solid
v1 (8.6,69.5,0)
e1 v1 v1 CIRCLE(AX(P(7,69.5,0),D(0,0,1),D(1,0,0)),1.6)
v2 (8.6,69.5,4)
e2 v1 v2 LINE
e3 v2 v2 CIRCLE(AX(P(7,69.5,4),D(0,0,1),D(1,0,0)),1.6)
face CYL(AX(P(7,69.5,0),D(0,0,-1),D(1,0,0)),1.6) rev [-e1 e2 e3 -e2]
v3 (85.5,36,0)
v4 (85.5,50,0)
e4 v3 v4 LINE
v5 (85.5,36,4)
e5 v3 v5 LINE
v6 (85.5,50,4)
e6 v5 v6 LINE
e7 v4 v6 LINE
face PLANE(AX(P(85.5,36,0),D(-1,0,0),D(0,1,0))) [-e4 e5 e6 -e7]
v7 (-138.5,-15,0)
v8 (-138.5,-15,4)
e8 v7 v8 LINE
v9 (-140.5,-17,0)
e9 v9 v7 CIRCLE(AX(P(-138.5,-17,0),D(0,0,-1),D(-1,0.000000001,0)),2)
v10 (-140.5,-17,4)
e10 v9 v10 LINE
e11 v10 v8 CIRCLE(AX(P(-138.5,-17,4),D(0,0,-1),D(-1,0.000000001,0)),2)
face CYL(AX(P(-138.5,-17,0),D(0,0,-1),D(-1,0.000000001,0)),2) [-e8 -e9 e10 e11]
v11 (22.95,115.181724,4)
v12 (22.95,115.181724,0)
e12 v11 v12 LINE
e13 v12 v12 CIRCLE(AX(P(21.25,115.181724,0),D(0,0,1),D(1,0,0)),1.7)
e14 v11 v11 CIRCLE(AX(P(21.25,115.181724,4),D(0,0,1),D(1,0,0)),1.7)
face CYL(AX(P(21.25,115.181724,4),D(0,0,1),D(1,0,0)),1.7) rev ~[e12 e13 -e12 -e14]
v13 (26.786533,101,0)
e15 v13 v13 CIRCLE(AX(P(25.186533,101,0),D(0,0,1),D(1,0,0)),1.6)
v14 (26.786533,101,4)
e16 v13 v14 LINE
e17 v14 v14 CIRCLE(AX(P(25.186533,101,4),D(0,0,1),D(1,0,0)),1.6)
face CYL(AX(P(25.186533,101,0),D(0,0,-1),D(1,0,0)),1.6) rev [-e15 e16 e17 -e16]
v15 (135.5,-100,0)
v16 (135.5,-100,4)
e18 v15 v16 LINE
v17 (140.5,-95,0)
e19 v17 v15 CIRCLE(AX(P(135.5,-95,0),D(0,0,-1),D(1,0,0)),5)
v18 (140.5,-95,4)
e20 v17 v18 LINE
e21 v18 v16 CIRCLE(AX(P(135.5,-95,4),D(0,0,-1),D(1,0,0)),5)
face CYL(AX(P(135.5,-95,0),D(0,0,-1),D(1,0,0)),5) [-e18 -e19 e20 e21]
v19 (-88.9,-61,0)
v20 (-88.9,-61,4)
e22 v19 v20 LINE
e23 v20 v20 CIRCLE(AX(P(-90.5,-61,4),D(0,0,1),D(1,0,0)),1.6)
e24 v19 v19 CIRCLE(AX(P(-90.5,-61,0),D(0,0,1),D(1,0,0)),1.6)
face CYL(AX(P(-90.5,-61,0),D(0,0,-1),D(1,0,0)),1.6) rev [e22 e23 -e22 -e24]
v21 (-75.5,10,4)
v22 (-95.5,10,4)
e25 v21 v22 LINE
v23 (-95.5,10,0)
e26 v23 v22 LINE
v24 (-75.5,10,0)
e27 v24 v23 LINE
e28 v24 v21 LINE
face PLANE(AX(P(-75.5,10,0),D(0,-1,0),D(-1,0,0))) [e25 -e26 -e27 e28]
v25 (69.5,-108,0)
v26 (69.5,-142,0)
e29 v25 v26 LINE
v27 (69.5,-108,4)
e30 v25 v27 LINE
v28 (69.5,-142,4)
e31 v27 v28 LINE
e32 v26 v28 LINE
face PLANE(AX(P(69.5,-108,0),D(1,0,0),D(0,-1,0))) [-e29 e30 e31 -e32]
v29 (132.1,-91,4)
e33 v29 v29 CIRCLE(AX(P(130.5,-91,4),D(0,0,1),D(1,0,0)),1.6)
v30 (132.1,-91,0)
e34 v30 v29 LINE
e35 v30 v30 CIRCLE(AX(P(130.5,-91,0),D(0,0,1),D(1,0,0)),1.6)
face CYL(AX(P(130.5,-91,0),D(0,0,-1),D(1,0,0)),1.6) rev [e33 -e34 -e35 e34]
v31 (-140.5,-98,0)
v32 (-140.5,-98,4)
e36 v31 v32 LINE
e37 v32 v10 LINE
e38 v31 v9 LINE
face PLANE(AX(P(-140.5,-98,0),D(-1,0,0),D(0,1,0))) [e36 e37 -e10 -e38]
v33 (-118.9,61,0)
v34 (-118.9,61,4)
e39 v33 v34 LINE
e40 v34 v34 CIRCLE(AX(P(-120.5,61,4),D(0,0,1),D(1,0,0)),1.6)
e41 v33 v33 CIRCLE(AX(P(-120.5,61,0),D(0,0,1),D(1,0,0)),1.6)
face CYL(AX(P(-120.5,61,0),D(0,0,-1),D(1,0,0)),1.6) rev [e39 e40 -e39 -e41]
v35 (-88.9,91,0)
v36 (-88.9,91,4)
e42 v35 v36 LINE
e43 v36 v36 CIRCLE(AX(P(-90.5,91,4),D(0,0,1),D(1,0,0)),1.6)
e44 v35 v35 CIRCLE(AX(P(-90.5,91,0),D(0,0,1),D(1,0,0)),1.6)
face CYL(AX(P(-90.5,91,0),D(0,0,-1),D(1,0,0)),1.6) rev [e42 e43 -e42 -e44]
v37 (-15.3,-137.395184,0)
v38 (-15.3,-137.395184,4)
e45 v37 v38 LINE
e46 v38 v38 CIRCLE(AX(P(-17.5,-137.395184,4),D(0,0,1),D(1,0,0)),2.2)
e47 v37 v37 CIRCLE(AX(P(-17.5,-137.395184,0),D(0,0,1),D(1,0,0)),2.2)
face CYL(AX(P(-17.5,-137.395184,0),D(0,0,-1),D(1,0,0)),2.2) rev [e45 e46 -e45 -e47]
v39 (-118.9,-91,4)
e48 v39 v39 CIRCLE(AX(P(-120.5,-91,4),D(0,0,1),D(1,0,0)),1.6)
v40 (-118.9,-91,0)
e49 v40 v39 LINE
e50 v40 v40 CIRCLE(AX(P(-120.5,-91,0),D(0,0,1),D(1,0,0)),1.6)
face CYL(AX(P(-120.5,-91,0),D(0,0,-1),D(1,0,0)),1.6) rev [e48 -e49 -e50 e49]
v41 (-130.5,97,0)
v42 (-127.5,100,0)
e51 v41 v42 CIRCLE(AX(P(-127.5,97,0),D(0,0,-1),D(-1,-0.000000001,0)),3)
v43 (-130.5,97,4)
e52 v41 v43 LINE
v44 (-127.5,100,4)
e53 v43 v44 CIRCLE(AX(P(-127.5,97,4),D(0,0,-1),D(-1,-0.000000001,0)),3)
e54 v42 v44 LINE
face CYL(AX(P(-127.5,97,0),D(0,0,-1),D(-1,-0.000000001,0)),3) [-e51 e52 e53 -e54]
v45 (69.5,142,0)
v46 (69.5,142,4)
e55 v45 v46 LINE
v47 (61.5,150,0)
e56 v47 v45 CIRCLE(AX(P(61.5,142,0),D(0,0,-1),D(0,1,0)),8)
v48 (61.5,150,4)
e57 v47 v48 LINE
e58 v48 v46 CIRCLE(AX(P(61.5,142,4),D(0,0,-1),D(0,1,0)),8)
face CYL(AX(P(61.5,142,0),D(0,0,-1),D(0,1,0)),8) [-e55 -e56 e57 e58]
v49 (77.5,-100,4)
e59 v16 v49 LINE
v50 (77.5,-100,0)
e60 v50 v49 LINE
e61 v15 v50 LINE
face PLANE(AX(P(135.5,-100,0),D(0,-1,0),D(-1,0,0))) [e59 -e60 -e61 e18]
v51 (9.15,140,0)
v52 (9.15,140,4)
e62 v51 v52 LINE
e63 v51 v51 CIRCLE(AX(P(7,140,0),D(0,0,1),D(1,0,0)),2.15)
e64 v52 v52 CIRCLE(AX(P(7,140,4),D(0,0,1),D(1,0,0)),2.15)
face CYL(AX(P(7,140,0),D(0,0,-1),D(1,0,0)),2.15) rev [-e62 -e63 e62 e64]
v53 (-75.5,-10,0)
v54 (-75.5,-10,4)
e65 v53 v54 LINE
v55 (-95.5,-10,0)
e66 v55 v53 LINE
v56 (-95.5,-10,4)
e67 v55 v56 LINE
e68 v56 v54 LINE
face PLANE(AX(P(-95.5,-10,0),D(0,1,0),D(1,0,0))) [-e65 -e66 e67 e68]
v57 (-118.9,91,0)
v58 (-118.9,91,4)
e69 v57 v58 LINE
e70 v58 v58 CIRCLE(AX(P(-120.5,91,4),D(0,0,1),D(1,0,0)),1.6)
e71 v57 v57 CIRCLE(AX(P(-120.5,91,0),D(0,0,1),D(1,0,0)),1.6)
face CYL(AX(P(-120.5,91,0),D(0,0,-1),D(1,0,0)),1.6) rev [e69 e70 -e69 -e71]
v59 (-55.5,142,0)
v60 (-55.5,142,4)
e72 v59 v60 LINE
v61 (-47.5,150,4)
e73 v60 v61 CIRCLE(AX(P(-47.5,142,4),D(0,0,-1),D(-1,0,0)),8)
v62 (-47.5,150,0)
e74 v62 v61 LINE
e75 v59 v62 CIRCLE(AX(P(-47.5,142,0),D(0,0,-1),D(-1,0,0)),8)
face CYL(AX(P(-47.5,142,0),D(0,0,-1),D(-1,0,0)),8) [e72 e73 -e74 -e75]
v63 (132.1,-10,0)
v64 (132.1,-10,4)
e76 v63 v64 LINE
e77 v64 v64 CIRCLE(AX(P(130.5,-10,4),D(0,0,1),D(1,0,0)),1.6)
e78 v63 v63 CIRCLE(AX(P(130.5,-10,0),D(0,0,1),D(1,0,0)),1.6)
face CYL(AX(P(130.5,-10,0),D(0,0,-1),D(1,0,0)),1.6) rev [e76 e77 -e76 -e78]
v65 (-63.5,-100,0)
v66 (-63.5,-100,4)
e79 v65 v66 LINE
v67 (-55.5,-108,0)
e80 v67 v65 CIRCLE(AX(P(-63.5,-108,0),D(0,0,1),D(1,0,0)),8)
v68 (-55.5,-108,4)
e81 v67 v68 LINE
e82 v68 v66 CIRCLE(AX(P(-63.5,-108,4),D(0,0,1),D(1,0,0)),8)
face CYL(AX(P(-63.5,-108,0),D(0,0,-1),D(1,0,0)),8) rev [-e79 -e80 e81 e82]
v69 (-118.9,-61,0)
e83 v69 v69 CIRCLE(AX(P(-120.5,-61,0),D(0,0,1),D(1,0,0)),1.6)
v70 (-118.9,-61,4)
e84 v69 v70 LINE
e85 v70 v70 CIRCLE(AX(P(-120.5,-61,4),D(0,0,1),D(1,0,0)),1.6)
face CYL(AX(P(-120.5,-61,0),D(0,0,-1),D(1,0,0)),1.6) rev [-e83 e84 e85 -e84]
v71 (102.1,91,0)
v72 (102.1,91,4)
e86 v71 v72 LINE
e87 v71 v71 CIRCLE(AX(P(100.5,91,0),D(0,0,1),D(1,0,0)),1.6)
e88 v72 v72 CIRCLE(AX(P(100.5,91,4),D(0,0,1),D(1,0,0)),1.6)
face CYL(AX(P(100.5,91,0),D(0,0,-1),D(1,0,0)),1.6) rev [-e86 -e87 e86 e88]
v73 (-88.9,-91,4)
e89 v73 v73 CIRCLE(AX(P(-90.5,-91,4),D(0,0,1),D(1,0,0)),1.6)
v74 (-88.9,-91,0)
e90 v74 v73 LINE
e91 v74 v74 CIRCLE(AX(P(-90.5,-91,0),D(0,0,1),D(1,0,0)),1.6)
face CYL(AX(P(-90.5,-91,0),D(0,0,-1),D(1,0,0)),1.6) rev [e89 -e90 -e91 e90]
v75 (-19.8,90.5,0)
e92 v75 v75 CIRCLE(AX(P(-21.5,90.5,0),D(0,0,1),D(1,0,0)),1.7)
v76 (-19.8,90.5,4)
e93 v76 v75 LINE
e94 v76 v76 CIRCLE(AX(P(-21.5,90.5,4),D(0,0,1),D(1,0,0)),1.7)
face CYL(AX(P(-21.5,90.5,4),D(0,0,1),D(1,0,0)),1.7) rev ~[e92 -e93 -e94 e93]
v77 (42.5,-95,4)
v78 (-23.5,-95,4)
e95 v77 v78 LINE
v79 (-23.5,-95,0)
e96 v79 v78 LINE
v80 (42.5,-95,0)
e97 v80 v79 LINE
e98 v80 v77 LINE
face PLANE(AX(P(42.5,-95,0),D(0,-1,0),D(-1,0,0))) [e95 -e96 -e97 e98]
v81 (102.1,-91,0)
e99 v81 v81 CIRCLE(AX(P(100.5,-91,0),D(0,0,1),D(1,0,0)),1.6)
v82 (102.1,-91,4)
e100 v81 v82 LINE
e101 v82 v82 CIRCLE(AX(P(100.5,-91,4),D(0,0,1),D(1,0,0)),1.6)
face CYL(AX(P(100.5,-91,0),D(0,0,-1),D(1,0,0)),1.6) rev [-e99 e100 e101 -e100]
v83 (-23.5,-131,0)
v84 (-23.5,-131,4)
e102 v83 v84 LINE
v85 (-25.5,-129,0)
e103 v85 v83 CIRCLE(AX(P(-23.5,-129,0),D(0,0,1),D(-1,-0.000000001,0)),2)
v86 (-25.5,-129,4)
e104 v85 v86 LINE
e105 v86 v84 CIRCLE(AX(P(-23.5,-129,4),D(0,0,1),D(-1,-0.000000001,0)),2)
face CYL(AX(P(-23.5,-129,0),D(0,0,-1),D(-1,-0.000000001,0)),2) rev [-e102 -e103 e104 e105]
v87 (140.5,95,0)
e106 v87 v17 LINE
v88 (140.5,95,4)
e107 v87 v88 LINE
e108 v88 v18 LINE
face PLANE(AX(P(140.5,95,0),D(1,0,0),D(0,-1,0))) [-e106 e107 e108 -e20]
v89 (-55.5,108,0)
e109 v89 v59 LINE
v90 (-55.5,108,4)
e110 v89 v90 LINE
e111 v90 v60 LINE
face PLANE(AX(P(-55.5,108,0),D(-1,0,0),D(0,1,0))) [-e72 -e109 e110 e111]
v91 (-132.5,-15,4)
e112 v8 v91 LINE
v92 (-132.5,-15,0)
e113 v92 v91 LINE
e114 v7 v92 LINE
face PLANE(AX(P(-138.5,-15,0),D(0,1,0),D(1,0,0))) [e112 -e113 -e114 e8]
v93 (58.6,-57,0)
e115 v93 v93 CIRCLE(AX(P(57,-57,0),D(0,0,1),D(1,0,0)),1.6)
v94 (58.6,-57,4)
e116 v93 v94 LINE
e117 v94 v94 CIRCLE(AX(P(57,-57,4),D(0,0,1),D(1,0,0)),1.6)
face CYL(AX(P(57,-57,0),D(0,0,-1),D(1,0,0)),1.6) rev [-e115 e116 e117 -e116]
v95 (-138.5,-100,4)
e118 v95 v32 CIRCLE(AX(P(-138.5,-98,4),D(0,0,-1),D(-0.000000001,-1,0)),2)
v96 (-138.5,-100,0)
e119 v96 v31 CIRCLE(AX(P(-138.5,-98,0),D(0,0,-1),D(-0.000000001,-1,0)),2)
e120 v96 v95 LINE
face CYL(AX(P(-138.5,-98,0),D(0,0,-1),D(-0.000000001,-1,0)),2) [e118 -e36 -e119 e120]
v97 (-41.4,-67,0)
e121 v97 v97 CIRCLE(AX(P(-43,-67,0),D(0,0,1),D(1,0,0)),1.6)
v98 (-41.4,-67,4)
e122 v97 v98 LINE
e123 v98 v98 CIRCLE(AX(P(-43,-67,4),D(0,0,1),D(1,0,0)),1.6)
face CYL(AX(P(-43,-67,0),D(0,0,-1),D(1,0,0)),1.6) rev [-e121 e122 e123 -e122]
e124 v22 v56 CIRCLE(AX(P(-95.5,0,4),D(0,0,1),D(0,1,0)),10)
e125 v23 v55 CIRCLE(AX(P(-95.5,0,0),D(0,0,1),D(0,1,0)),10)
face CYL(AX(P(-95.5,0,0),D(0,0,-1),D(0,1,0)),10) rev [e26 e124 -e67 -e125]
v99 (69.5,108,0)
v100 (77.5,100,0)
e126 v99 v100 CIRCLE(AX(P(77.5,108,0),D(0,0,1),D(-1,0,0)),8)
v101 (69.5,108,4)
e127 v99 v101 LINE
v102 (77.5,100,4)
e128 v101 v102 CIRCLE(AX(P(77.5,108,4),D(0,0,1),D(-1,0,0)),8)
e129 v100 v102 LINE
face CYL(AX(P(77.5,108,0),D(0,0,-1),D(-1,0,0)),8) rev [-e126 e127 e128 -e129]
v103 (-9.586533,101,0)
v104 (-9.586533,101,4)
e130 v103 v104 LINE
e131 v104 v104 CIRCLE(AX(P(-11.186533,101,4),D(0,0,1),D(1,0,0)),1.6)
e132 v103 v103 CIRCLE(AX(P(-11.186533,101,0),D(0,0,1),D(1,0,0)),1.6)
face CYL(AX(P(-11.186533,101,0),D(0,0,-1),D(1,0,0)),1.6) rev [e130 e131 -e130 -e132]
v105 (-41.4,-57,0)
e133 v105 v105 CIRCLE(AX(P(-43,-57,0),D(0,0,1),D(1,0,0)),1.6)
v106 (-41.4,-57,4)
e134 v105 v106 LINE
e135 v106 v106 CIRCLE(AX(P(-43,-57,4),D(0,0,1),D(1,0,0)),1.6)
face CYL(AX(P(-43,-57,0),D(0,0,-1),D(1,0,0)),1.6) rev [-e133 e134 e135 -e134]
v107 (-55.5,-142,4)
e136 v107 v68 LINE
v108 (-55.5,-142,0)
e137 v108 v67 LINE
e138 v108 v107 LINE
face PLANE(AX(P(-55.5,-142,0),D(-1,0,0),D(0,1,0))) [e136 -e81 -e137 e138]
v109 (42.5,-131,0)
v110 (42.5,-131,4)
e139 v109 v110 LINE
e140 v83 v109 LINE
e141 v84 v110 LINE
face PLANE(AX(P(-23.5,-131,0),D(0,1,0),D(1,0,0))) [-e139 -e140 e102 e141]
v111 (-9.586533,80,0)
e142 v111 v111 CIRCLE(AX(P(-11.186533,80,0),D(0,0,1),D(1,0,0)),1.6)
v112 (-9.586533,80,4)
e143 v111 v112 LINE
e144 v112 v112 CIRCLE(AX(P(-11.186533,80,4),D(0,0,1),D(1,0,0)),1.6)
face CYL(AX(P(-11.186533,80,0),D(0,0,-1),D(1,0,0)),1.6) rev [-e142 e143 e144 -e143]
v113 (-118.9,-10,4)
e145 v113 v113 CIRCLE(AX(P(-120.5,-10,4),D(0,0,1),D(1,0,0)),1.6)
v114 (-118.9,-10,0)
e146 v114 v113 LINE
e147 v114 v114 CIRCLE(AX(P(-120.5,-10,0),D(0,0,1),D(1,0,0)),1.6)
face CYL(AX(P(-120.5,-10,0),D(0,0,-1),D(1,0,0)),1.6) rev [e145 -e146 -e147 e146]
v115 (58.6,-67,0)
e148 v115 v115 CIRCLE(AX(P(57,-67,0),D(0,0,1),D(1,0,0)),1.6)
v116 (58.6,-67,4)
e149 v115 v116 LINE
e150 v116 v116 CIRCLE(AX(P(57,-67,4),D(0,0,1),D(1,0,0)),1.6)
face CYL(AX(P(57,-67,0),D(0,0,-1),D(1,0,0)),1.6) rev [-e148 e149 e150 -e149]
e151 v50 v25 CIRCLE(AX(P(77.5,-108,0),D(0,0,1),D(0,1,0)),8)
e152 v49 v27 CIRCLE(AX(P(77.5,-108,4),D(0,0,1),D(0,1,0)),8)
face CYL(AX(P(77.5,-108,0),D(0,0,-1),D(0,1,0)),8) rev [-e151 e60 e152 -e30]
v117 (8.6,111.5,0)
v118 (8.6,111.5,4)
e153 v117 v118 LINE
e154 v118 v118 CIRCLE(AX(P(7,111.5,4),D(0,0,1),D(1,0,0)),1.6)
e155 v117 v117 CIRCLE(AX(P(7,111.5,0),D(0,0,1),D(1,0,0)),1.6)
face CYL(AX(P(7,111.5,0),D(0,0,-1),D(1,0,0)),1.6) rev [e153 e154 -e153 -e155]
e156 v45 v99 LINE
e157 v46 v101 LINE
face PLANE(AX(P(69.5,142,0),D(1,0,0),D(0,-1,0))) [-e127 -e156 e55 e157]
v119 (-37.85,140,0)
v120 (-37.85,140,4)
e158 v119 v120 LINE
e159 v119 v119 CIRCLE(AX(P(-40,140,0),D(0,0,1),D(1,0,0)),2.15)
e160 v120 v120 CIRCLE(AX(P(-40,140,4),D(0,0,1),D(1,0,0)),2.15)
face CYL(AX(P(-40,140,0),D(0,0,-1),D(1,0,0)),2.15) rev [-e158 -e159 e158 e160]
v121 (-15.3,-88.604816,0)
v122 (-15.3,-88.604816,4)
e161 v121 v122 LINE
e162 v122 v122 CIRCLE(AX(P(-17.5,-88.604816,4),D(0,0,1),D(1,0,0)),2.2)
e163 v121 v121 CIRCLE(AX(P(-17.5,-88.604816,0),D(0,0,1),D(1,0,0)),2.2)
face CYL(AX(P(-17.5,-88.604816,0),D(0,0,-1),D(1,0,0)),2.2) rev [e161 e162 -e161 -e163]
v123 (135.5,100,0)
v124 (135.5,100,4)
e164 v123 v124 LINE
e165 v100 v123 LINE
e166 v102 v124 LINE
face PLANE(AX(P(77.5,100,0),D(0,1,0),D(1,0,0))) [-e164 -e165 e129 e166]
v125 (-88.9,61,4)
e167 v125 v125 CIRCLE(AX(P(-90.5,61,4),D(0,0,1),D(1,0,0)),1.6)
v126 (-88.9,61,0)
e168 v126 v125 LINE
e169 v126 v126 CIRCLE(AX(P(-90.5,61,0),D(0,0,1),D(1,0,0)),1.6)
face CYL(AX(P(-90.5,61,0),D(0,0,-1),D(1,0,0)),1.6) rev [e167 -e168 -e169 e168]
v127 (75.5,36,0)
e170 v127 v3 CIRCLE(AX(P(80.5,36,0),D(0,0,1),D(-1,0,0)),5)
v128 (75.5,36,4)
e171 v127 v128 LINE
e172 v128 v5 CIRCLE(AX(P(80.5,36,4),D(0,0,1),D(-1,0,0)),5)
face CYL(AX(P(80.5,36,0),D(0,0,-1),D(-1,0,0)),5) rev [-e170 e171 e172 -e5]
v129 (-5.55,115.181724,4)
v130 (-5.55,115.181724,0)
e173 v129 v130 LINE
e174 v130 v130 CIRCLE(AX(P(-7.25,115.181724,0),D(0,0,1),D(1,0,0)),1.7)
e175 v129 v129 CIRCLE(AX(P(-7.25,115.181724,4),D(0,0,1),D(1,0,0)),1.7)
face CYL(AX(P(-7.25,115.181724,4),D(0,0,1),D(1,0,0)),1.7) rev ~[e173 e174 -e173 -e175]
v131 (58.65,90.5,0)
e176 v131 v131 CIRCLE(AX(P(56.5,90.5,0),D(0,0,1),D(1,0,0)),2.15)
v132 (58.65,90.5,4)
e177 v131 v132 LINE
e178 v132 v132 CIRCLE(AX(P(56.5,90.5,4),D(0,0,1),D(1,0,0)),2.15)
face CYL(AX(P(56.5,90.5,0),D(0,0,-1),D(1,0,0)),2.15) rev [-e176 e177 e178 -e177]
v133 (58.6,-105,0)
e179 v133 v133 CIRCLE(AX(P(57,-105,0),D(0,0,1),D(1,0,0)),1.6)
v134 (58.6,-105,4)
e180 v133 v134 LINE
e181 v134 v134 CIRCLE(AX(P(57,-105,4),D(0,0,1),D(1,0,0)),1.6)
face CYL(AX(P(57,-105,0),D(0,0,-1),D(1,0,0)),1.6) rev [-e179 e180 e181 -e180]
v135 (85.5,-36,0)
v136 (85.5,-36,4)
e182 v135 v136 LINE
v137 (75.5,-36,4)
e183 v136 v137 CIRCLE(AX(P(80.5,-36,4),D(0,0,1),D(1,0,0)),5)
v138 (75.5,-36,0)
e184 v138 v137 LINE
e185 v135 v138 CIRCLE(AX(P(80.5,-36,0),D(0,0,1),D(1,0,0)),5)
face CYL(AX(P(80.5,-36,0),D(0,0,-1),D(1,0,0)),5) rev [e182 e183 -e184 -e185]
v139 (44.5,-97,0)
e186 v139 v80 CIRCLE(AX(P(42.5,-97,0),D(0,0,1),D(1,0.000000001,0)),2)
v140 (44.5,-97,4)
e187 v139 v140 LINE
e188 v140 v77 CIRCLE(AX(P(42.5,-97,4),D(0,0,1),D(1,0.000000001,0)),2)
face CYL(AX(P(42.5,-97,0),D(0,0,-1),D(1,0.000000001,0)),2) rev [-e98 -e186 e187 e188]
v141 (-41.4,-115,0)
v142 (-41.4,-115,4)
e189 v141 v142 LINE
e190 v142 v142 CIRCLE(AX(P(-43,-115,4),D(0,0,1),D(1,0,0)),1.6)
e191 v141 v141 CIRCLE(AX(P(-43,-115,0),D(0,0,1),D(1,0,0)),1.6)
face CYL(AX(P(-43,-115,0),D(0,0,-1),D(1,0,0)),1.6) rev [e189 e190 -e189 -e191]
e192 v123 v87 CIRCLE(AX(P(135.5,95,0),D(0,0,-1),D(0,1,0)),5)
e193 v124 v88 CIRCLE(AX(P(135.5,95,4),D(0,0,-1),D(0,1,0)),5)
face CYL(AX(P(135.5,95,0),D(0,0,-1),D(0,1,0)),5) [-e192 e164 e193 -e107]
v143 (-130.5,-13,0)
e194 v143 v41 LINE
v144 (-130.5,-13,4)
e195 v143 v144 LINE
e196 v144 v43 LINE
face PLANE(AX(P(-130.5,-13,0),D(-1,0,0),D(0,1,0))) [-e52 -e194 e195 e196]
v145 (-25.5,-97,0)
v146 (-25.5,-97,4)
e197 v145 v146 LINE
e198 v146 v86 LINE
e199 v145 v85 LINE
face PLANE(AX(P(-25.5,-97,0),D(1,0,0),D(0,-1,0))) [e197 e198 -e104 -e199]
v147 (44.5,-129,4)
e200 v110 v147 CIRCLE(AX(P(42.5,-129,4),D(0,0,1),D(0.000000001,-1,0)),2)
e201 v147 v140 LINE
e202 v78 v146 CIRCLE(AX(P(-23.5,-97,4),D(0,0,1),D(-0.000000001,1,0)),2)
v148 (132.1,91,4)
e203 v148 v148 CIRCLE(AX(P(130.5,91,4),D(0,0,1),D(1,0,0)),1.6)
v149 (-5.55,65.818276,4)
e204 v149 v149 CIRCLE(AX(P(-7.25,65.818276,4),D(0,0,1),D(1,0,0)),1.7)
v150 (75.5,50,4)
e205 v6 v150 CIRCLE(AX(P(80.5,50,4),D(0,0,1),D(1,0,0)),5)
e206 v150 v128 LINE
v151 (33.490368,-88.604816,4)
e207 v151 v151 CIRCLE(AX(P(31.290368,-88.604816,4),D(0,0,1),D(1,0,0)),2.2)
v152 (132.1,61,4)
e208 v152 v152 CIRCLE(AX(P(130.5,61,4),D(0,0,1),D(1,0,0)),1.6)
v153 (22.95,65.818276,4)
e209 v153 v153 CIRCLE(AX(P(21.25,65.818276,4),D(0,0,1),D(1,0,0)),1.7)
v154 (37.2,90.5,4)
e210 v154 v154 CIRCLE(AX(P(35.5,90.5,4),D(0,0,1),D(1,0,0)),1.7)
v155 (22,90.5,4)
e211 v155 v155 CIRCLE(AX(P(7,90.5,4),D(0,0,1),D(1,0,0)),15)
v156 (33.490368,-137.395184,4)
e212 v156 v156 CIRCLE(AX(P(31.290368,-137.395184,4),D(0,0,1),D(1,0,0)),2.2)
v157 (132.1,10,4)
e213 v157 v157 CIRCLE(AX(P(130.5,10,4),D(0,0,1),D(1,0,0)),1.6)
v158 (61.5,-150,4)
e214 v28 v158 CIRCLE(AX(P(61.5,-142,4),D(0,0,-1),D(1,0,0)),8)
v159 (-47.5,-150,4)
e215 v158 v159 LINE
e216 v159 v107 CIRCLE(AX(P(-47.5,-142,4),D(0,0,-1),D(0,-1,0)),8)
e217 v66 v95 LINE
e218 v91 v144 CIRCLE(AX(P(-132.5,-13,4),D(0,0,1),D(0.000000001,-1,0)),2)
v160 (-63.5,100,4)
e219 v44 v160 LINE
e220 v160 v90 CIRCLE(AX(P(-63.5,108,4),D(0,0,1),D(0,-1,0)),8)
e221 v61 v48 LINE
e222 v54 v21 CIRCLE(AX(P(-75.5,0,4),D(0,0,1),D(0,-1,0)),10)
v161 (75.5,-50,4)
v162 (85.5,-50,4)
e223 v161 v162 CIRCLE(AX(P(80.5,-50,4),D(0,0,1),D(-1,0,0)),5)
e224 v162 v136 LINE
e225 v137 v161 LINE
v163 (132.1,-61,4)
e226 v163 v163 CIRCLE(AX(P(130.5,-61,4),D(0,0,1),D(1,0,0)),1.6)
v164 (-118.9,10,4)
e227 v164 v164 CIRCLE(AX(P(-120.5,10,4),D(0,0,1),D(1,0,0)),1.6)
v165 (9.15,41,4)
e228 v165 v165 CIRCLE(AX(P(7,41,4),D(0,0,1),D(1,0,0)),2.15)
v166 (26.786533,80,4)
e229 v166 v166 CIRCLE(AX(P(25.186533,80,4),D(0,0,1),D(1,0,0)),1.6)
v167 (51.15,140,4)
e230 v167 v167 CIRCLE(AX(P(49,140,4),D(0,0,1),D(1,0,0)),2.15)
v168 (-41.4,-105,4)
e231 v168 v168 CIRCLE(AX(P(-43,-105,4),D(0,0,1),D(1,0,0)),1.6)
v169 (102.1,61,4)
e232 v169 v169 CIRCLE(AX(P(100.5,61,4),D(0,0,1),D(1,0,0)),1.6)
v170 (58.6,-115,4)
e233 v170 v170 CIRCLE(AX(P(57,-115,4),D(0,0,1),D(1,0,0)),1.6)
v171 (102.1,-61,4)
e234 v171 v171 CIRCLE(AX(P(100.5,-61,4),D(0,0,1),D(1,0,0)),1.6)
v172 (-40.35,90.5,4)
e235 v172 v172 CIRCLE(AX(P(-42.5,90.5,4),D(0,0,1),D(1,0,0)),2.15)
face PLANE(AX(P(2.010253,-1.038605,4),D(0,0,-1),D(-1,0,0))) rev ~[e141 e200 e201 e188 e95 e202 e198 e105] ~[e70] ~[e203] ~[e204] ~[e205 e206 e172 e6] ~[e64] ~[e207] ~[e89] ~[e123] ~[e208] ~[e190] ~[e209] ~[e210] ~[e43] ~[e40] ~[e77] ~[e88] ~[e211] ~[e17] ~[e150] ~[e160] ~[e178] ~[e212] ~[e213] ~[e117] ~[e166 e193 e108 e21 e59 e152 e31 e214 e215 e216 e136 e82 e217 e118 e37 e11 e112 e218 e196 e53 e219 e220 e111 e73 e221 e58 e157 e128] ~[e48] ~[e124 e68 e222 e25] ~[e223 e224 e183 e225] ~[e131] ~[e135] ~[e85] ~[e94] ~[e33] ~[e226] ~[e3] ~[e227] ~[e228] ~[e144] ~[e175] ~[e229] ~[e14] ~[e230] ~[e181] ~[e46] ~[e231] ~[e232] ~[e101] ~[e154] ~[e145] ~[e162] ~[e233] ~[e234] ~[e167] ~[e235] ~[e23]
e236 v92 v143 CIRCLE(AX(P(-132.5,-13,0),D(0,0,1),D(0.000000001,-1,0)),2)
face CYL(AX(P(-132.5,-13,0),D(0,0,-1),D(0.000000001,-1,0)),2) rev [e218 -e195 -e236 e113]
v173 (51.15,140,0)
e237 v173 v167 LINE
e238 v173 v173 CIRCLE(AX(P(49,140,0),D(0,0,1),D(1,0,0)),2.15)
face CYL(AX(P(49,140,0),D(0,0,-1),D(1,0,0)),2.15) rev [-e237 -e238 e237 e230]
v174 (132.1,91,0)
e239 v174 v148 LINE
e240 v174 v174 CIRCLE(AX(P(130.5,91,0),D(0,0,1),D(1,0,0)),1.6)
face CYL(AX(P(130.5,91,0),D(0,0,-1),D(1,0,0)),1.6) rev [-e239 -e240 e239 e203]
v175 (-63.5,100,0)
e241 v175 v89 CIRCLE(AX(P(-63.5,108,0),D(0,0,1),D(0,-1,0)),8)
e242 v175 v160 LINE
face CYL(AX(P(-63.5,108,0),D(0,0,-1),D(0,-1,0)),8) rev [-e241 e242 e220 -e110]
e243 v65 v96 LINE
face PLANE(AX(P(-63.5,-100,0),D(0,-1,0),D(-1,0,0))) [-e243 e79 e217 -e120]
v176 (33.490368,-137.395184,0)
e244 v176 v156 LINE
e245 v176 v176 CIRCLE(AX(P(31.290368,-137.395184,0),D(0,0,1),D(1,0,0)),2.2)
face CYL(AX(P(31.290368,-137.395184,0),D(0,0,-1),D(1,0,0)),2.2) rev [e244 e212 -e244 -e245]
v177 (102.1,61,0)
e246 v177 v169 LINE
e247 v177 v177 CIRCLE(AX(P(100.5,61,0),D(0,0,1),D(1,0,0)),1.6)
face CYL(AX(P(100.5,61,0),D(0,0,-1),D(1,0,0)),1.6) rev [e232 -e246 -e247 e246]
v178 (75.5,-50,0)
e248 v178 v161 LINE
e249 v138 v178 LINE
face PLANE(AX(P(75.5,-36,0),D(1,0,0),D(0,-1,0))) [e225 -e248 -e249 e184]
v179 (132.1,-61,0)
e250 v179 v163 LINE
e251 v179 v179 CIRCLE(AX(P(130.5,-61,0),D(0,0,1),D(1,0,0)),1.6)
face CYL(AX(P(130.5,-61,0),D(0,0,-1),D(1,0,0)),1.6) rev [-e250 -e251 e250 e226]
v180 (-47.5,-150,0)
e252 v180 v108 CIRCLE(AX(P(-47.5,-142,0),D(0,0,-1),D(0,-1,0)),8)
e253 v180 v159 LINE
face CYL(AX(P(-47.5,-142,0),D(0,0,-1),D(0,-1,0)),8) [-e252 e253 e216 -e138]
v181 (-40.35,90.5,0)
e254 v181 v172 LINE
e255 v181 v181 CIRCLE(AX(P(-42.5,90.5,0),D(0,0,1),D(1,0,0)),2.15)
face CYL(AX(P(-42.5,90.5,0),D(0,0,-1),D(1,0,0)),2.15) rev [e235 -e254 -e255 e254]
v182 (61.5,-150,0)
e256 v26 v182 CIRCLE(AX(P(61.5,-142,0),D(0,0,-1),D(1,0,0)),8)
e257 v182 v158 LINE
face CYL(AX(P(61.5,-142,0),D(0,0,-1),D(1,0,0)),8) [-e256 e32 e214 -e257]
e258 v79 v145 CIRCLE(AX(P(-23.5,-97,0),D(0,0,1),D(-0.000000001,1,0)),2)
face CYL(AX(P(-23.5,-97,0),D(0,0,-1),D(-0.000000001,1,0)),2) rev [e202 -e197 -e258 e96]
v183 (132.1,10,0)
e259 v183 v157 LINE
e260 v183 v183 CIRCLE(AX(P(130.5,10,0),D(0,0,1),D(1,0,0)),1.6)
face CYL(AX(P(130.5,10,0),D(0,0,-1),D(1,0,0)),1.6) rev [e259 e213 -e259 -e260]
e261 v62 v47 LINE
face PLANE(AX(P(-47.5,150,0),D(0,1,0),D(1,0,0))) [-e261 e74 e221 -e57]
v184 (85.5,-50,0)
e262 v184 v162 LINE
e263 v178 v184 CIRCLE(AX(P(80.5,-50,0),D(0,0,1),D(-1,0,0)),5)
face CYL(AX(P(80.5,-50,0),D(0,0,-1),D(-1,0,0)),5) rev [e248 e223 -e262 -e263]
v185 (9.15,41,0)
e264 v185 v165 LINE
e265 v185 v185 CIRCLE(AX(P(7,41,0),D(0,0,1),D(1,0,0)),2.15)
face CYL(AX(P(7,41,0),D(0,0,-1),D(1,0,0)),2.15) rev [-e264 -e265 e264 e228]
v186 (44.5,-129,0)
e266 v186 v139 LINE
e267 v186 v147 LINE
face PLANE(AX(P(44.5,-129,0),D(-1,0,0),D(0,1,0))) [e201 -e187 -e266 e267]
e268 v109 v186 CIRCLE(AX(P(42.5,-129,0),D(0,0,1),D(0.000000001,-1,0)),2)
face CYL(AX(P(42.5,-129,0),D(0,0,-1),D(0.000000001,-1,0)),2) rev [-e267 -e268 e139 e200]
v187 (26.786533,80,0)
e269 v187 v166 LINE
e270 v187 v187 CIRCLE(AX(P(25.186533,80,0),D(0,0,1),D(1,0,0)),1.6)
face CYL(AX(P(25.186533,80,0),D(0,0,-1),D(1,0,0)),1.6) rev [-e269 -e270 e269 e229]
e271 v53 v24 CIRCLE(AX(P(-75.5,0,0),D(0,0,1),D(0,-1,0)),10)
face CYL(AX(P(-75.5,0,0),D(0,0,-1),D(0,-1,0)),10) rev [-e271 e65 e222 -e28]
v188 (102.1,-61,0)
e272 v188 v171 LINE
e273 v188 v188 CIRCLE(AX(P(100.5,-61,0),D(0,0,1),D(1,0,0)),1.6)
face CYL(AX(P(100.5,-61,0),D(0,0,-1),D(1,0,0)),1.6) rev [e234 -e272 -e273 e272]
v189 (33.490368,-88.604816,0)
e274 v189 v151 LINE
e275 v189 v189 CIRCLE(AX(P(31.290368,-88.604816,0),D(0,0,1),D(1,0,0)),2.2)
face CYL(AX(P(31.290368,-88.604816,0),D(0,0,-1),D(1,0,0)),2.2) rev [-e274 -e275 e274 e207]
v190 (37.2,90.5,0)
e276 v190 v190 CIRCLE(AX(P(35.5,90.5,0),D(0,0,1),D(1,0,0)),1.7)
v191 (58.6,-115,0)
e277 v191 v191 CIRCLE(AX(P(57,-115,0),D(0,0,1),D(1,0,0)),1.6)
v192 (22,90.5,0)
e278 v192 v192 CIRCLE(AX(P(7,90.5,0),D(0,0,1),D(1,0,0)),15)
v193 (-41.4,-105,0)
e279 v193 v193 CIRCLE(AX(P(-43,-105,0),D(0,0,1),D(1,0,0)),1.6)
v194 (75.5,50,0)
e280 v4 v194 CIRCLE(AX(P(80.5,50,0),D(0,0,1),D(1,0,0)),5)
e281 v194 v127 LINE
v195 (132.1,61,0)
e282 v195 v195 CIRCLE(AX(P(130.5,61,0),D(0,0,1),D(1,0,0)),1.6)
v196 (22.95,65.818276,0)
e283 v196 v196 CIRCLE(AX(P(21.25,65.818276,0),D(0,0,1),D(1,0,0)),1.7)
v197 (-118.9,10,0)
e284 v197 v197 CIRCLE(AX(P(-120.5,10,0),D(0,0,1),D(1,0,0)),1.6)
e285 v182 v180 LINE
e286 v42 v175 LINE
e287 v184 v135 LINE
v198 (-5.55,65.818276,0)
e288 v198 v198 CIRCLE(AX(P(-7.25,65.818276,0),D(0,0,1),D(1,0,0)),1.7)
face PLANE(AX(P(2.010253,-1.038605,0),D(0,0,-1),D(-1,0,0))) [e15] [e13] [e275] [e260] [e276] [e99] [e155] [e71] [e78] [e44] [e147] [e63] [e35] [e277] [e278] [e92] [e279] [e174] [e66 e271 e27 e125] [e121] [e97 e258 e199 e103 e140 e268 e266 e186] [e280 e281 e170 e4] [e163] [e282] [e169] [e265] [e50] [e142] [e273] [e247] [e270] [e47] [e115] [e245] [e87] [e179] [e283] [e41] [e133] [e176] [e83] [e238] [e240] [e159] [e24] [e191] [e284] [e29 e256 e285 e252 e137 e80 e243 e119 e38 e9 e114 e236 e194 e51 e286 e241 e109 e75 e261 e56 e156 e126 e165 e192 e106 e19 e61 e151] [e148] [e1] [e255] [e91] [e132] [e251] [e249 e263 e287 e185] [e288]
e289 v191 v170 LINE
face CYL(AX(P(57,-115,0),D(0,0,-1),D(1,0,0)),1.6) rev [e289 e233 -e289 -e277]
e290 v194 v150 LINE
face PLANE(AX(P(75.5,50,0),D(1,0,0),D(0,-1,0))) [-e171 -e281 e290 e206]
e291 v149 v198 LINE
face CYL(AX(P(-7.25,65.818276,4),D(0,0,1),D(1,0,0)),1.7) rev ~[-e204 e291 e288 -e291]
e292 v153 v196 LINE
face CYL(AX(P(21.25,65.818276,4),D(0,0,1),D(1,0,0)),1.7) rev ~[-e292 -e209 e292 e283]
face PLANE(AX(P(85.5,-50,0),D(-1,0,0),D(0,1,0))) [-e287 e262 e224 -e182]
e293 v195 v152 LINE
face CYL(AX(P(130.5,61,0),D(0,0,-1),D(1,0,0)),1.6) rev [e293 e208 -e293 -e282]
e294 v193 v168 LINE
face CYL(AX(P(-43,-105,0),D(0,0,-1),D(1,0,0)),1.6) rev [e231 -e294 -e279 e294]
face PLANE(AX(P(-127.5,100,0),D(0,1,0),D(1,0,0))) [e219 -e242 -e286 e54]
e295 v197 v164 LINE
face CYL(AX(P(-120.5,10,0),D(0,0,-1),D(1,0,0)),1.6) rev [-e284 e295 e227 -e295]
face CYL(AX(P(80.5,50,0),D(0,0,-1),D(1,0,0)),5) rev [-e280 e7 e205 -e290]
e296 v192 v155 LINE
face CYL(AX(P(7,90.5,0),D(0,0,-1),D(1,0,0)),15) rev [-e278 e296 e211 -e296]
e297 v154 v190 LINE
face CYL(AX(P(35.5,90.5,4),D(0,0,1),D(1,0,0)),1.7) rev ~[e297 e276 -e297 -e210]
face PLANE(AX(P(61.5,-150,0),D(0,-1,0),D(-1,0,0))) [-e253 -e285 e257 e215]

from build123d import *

# Parameters (mm, degrees)
SKETCH_281X300_25_R   = 1.6
SKETCH_281X300_25_R_2 = 15
SKETCH_281X300_25_R_3 = 2.15
SKETCH_281X300_25_R_4 = 2.2
F_4MM_DEPTH           = 4
XRU2012_3_4_57_2_R    = 1.7
XRU2012_3_4_57_DEPTH  = 4


with BuildPart() as part:
    # 底板轮廓_281x300_安装孔外移25 → 凸台拉伸_4mm (new body)
    with BuildSketch(Plane.XY):
        with BuildLine():
            Line((-55.5, 108), (-55.5, 142))
            ThreePointArc((-55.5, 142), (-53.156854249, 147.656854249), (-47.5, 150))
            Line((-47.5, 150), (61.5, 150))
            ThreePointArc((61.5, 150), (67.156854249, 147.656854249), (69.5, 142))
            Line((69.5, 142), (69.5, 108))
            ThreePointArc((69.5, 108), (71.843145751, 102.343145751), (77.5, 100))
            Line((77.5, 100), (135.5, 100))
            ThreePointArc((135.5, 100), (139.035533906, 98.535533906), (140.5, 95))
            Line((140.5, 95), (140.5, -95))
            ThreePointArc((140.5, -95), (139.035533906, -98.535533906), (135.5, -100))
            Line((135.5, -100), (77.5, -100))
            ThreePointArc((77.5, -100), (71.843145751, -102.343145751), (69.5, -108))
            Line((69.5, -108), (69.5, -142))
            ThreePointArc((69.5, -142), (67.156854249, -147.656854249), (61.5, -150))
            Line((61.5, -150), (-47.5, -150))
            ThreePointArc((-47.5, -150), (-53.156854249, -147.656854249), (-55.5, -142))
            Line((-55.5, -142), (-55.5, -108))
            ThreePointArc((-55.5, -108), (-57.843145751, -102.343145751), (-63.5, -100))
            Line((-63.5, -100), (-138.5, -100))
            ThreePointArc((-138.5, -100), (-139.914213562, -99.414213562), (-140.5, -98))
            Line((-140.5, -98), (-140.5, -17))
            ThreePointArc((-140.5, -17), (-139.914213562, -15.585786438), (-138.5, -15))
            Line((-138.5, -15), (-132.5, -15))
            ThreePointArc((-132.5, -15), (-131.085786438, -14.414213562), (-130.5, -13))
            Line((-130.5, -13), (-130.5, 97))
            ThreePointArc((-130.5, 97), (-129.621320344, 99.121320344), (-127.5, 100))
            Line((-127.5, 100), (-63.5, 100))
            ThreePointArc((-63.5, 100), (-57.843145751, 102.343145751), (-55.5, 108))
        make_face()
        with Locations((100.5, -61)):
            Circle(SKETCH_281X300_25_R, mode=Mode.SUBTRACT)
        with Locations((130.5, -61)):
            Circle(SKETCH_281X300_25_R, mode=Mode.SUBTRACT)
        with Locations((100.5, 61)):
            Circle(SKETCH_281X300_25_R, mode=Mode.SUBTRACT)
        with Locations((7, 90.5)):
            Circle(SKETCH_281X300_25_R_2, mode=Mode.SUBTRACT)
        with Locations((7, 140)):
            Circle(SKETCH_281X300_25_R_3, mode=Mode.SUBTRACT)
        with Locations((-42.5, 90.5)):
            Circle(SKETCH_281X300_25_R_3, mode=Mode.SUBTRACT)
        with Locations((56.5, 90.5)):
            Circle(SKETCH_281X300_25_R_3, mode=Mode.SUBTRACT)
        with Locations((-40, 140)):
            Circle(SKETCH_281X300_25_R_3, mode=Mode.SUBTRACT)
        with Locations((130.5, 61)):
            Circle(SKETCH_281X300_25_R, mode=Mode.SUBTRACT)
        with Locations((49, 140)):
            Circle(SKETCH_281X300_25_R_3, mode=Mode.SUBTRACT)
        with Locations((7, 41)):
            Circle(SKETCH_281X300_25_R_3, mode=Mode.SUBTRACT)
        with Locations((31.290367902, -137.395183951)):
            Circle(SKETCH_281X300_25_R_4, mode=Mode.SUBTRACT)
        with Locations((-17.5, -137.395183951)):
            Circle(SKETCH_281X300_25_R_4, mode=Mode.SUBTRACT)
        with Locations((-17.5, -88.604816049)):
            Circle(SKETCH_281X300_25_R_4, mode=Mode.SUBTRACT)
        with Locations((31.290367902, -88.604816049)):
            Circle(SKETCH_281X300_25_R_4, mode=Mode.SUBTRACT)
        with Locations((7, 111.5)):
            Circle(SKETCH_281X300_25_R, mode=Mode.SUBTRACT)
        with Locations((25.186533479, 101)):
            Circle(SKETCH_281X300_25_R, mode=Mode.SUBTRACT)
        with Locations((100.5, -91)):
            Circle(SKETCH_281X300_25_R, mode=Mode.SUBTRACT)
        with Locations((25.186533479, 80)):
            Circle(SKETCH_281X300_25_R, mode=Mode.SUBTRACT)
        with Locations((100.5, 91)):
            Circle(SKETCH_281X300_25_R, mode=Mode.SUBTRACT)
        with Locations((7, 69.5)):
            Circle(SKETCH_281X300_25_R, mode=Mode.SUBTRACT)
        with Locations((130.5, 91)):
            Circle(SKETCH_281X300_25_R, mode=Mode.SUBTRACT)
        with Locations((130.5, -91)):
            Circle(SKETCH_281X300_25_R, mode=Mode.SUBTRACT)
        with Locations((-43, -105)):
            Circle(SKETCH_281X300_25_R, mode=Mode.SUBTRACT)
        with Locations((57, -57)):
            Circle(SKETCH_281X300_25_R, mode=Mode.SUBTRACT)
        with Locations((-43, -57)):
            Circle(SKETCH_281X300_25_R, mode=Mode.SUBTRACT)
        with Locations((57, -105)):
            Circle(SKETCH_281X300_25_R, mode=Mode.SUBTRACT)
        with Locations((-11.186533479, 80)):
            Circle(SKETCH_281X300_25_R, mode=Mode.SUBTRACT)
        with Locations((-11.186533479, 101)):
            Circle(SKETCH_281X300_25_R, mode=Mode.SUBTRACT)
        with Locations((130.5, 10)):
            Circle(SKETCH_281X300_25_R, mode=Mode.SUBTRACT)
        with Locations((130.5, -10)):
            Circle(SKETCH_281X300_25_R, mode=Mode.SUBTRACT)
        with Locations((-120.5, 10)):
            Circle(SKETCH_281X300_25_R, mode=Mode.SUBTRACT)
        with Locations((-120.5, -10)):
            Circle(SKETCH_281X300_25_R, mode=Mode.SUBTRACT)
        with Locations((-43, -115)):
            Circle(SKETCH_281X300_25_R, mode=Mode.SUBTRACT)
        with Locations((57, -67)):
            Circle(SKETCH_281X300_25_R, mode=Mode.SUBTRACT)
        with Locations((57, -115)):
            Circle(SKETCH_281X300_25_R, mode=Mode.SUBTRACT)
        with Locations((-43, -67)):
            Circle(SKETCH_281X300_25_R, mode=Mode.SUBTRACT)
        with Locations((-120.5, -91)):
            Circle(SKETCH_281X300_25_R, mode=Mode.SUBTRACT)
        with Locations((-90.5, -91)):
            Circle(SKETCH_281X300_25_R, mode=Mode.SUBTRACT)
        with Locations((-120.5, 91)):
            Circle(SKETCH_281X300_25_R, mode=Mode.SUBTRACT)
        with Locations((-90.5, 91)):
            Circle(SKETCH_281X300_25_R, mode=Mode.SUBTRACT)
        with Locations((-90.5, 61)):
            Circle(SKETCH_281X300_25_R, mode=Mode.SUBTRACT)
        with Locations((-120.5, 61)):
            Circle(SKETCH_281X300_25_R, mode=Mode.SUBTRACT)
        with Locations((-90.5, -61)):
            Circle(SKETCH_281X300_25_R, mode=Mode.SUBTRACT)
        with Locations((-120.5, -61)):
            Circle(SKETCH_281X300_25_R, mode=Mode.SUBTRACT)
        with BuildLine():
            Line((-25.5, -97), (-25.5, -129))
            ThreePointArc((-25.5, -129), (-24.914213562, -130.414213562), (-23.5, -131))
            Line((-23.5, -131), (42.5, -131))
            ThreePointArc((42.5, -131), (43.914213562, -130.414213562), (44.5, -129))
            Line((44.5, -129), (44.5, -97))
            ThreePointArc((44.5, -97), (43.914213562, -95.585786438), (42.5, -95))
            Line((42.5, -95), (-23.5, -95))
            ThreePointArc((-23.5, -95), (-24.914213562, -95.585786438), (-25.5, -97))
        make_face(mode=Mode.SUBTRACT)
        with BuildLine():
            Line((75.5, 50), (75.5, 36))
            ThreePointArc((75.5, 36), (80.5, 31), (85.5, 36))
            Line((85.5, 36), (85.5, 50))
            ThreePointArc((85.5, 50), (80.5, 55), (75.5, 50))
        make_face(mode=Mode.SUBTRACT)
        with BuildLine():
            Line((85.5, -50), (85.5, -36))
            ThreePointArc((85.5, -36), (80.5, -31), (75.5, -36))
            Line((75.5, -36), (75.5, -50))
            ThreePointArc((75.5, -50), (80.5, -55), (85.5, -50))
        make_face(mode=Mode.SUBTRACT)
        with BuildLine():
            Line((-95.5, -10), (-75.5, -10))
            ThreePointArc((-75.5, -10), (-65.5, 0), (-75.5, 10))
            Line((-75.5, 10), (-95.5, 10))
            ThreePointArc((-95.5, 10), (-105.5, 0), (-95.5, -10))
        make_face(mode=Mode.SUBTRACT)
    extrude(amount=F_4MM_DEPTH)

    # XRU2012__3.4___57 2 → XRU2012__3.4___57 (cut)
    with BuildSketch(Plane.XY.offset(4)):
        with Locations((35.5, 90.5)):
            Circle(XRU2012_3_4_57_2_R)
        with Locations((21.25, 115.181724008)):
            Circle(XRU2012_3_4_57_2_R)
        with Locations((-7.25, 115.181724008)):
            Circle(XRU2012_3_4_57_2_R)
        with Locations((-21.5, 90.5)):
            Circle(XRU2012_3_4_57_2_R)
        with Locations((-7.25, 65.818275992)):
            Circle(XRU2012_3_4_57_2_R)
        with Locations((21.25, 65.818275992)):
            Circle(XRU2012_3_4_57_2_R)
    extrude(amount=-XRU2012_3_4_57_DEPTH, mode=Mode.SUBTRACT)


solid = part.part
